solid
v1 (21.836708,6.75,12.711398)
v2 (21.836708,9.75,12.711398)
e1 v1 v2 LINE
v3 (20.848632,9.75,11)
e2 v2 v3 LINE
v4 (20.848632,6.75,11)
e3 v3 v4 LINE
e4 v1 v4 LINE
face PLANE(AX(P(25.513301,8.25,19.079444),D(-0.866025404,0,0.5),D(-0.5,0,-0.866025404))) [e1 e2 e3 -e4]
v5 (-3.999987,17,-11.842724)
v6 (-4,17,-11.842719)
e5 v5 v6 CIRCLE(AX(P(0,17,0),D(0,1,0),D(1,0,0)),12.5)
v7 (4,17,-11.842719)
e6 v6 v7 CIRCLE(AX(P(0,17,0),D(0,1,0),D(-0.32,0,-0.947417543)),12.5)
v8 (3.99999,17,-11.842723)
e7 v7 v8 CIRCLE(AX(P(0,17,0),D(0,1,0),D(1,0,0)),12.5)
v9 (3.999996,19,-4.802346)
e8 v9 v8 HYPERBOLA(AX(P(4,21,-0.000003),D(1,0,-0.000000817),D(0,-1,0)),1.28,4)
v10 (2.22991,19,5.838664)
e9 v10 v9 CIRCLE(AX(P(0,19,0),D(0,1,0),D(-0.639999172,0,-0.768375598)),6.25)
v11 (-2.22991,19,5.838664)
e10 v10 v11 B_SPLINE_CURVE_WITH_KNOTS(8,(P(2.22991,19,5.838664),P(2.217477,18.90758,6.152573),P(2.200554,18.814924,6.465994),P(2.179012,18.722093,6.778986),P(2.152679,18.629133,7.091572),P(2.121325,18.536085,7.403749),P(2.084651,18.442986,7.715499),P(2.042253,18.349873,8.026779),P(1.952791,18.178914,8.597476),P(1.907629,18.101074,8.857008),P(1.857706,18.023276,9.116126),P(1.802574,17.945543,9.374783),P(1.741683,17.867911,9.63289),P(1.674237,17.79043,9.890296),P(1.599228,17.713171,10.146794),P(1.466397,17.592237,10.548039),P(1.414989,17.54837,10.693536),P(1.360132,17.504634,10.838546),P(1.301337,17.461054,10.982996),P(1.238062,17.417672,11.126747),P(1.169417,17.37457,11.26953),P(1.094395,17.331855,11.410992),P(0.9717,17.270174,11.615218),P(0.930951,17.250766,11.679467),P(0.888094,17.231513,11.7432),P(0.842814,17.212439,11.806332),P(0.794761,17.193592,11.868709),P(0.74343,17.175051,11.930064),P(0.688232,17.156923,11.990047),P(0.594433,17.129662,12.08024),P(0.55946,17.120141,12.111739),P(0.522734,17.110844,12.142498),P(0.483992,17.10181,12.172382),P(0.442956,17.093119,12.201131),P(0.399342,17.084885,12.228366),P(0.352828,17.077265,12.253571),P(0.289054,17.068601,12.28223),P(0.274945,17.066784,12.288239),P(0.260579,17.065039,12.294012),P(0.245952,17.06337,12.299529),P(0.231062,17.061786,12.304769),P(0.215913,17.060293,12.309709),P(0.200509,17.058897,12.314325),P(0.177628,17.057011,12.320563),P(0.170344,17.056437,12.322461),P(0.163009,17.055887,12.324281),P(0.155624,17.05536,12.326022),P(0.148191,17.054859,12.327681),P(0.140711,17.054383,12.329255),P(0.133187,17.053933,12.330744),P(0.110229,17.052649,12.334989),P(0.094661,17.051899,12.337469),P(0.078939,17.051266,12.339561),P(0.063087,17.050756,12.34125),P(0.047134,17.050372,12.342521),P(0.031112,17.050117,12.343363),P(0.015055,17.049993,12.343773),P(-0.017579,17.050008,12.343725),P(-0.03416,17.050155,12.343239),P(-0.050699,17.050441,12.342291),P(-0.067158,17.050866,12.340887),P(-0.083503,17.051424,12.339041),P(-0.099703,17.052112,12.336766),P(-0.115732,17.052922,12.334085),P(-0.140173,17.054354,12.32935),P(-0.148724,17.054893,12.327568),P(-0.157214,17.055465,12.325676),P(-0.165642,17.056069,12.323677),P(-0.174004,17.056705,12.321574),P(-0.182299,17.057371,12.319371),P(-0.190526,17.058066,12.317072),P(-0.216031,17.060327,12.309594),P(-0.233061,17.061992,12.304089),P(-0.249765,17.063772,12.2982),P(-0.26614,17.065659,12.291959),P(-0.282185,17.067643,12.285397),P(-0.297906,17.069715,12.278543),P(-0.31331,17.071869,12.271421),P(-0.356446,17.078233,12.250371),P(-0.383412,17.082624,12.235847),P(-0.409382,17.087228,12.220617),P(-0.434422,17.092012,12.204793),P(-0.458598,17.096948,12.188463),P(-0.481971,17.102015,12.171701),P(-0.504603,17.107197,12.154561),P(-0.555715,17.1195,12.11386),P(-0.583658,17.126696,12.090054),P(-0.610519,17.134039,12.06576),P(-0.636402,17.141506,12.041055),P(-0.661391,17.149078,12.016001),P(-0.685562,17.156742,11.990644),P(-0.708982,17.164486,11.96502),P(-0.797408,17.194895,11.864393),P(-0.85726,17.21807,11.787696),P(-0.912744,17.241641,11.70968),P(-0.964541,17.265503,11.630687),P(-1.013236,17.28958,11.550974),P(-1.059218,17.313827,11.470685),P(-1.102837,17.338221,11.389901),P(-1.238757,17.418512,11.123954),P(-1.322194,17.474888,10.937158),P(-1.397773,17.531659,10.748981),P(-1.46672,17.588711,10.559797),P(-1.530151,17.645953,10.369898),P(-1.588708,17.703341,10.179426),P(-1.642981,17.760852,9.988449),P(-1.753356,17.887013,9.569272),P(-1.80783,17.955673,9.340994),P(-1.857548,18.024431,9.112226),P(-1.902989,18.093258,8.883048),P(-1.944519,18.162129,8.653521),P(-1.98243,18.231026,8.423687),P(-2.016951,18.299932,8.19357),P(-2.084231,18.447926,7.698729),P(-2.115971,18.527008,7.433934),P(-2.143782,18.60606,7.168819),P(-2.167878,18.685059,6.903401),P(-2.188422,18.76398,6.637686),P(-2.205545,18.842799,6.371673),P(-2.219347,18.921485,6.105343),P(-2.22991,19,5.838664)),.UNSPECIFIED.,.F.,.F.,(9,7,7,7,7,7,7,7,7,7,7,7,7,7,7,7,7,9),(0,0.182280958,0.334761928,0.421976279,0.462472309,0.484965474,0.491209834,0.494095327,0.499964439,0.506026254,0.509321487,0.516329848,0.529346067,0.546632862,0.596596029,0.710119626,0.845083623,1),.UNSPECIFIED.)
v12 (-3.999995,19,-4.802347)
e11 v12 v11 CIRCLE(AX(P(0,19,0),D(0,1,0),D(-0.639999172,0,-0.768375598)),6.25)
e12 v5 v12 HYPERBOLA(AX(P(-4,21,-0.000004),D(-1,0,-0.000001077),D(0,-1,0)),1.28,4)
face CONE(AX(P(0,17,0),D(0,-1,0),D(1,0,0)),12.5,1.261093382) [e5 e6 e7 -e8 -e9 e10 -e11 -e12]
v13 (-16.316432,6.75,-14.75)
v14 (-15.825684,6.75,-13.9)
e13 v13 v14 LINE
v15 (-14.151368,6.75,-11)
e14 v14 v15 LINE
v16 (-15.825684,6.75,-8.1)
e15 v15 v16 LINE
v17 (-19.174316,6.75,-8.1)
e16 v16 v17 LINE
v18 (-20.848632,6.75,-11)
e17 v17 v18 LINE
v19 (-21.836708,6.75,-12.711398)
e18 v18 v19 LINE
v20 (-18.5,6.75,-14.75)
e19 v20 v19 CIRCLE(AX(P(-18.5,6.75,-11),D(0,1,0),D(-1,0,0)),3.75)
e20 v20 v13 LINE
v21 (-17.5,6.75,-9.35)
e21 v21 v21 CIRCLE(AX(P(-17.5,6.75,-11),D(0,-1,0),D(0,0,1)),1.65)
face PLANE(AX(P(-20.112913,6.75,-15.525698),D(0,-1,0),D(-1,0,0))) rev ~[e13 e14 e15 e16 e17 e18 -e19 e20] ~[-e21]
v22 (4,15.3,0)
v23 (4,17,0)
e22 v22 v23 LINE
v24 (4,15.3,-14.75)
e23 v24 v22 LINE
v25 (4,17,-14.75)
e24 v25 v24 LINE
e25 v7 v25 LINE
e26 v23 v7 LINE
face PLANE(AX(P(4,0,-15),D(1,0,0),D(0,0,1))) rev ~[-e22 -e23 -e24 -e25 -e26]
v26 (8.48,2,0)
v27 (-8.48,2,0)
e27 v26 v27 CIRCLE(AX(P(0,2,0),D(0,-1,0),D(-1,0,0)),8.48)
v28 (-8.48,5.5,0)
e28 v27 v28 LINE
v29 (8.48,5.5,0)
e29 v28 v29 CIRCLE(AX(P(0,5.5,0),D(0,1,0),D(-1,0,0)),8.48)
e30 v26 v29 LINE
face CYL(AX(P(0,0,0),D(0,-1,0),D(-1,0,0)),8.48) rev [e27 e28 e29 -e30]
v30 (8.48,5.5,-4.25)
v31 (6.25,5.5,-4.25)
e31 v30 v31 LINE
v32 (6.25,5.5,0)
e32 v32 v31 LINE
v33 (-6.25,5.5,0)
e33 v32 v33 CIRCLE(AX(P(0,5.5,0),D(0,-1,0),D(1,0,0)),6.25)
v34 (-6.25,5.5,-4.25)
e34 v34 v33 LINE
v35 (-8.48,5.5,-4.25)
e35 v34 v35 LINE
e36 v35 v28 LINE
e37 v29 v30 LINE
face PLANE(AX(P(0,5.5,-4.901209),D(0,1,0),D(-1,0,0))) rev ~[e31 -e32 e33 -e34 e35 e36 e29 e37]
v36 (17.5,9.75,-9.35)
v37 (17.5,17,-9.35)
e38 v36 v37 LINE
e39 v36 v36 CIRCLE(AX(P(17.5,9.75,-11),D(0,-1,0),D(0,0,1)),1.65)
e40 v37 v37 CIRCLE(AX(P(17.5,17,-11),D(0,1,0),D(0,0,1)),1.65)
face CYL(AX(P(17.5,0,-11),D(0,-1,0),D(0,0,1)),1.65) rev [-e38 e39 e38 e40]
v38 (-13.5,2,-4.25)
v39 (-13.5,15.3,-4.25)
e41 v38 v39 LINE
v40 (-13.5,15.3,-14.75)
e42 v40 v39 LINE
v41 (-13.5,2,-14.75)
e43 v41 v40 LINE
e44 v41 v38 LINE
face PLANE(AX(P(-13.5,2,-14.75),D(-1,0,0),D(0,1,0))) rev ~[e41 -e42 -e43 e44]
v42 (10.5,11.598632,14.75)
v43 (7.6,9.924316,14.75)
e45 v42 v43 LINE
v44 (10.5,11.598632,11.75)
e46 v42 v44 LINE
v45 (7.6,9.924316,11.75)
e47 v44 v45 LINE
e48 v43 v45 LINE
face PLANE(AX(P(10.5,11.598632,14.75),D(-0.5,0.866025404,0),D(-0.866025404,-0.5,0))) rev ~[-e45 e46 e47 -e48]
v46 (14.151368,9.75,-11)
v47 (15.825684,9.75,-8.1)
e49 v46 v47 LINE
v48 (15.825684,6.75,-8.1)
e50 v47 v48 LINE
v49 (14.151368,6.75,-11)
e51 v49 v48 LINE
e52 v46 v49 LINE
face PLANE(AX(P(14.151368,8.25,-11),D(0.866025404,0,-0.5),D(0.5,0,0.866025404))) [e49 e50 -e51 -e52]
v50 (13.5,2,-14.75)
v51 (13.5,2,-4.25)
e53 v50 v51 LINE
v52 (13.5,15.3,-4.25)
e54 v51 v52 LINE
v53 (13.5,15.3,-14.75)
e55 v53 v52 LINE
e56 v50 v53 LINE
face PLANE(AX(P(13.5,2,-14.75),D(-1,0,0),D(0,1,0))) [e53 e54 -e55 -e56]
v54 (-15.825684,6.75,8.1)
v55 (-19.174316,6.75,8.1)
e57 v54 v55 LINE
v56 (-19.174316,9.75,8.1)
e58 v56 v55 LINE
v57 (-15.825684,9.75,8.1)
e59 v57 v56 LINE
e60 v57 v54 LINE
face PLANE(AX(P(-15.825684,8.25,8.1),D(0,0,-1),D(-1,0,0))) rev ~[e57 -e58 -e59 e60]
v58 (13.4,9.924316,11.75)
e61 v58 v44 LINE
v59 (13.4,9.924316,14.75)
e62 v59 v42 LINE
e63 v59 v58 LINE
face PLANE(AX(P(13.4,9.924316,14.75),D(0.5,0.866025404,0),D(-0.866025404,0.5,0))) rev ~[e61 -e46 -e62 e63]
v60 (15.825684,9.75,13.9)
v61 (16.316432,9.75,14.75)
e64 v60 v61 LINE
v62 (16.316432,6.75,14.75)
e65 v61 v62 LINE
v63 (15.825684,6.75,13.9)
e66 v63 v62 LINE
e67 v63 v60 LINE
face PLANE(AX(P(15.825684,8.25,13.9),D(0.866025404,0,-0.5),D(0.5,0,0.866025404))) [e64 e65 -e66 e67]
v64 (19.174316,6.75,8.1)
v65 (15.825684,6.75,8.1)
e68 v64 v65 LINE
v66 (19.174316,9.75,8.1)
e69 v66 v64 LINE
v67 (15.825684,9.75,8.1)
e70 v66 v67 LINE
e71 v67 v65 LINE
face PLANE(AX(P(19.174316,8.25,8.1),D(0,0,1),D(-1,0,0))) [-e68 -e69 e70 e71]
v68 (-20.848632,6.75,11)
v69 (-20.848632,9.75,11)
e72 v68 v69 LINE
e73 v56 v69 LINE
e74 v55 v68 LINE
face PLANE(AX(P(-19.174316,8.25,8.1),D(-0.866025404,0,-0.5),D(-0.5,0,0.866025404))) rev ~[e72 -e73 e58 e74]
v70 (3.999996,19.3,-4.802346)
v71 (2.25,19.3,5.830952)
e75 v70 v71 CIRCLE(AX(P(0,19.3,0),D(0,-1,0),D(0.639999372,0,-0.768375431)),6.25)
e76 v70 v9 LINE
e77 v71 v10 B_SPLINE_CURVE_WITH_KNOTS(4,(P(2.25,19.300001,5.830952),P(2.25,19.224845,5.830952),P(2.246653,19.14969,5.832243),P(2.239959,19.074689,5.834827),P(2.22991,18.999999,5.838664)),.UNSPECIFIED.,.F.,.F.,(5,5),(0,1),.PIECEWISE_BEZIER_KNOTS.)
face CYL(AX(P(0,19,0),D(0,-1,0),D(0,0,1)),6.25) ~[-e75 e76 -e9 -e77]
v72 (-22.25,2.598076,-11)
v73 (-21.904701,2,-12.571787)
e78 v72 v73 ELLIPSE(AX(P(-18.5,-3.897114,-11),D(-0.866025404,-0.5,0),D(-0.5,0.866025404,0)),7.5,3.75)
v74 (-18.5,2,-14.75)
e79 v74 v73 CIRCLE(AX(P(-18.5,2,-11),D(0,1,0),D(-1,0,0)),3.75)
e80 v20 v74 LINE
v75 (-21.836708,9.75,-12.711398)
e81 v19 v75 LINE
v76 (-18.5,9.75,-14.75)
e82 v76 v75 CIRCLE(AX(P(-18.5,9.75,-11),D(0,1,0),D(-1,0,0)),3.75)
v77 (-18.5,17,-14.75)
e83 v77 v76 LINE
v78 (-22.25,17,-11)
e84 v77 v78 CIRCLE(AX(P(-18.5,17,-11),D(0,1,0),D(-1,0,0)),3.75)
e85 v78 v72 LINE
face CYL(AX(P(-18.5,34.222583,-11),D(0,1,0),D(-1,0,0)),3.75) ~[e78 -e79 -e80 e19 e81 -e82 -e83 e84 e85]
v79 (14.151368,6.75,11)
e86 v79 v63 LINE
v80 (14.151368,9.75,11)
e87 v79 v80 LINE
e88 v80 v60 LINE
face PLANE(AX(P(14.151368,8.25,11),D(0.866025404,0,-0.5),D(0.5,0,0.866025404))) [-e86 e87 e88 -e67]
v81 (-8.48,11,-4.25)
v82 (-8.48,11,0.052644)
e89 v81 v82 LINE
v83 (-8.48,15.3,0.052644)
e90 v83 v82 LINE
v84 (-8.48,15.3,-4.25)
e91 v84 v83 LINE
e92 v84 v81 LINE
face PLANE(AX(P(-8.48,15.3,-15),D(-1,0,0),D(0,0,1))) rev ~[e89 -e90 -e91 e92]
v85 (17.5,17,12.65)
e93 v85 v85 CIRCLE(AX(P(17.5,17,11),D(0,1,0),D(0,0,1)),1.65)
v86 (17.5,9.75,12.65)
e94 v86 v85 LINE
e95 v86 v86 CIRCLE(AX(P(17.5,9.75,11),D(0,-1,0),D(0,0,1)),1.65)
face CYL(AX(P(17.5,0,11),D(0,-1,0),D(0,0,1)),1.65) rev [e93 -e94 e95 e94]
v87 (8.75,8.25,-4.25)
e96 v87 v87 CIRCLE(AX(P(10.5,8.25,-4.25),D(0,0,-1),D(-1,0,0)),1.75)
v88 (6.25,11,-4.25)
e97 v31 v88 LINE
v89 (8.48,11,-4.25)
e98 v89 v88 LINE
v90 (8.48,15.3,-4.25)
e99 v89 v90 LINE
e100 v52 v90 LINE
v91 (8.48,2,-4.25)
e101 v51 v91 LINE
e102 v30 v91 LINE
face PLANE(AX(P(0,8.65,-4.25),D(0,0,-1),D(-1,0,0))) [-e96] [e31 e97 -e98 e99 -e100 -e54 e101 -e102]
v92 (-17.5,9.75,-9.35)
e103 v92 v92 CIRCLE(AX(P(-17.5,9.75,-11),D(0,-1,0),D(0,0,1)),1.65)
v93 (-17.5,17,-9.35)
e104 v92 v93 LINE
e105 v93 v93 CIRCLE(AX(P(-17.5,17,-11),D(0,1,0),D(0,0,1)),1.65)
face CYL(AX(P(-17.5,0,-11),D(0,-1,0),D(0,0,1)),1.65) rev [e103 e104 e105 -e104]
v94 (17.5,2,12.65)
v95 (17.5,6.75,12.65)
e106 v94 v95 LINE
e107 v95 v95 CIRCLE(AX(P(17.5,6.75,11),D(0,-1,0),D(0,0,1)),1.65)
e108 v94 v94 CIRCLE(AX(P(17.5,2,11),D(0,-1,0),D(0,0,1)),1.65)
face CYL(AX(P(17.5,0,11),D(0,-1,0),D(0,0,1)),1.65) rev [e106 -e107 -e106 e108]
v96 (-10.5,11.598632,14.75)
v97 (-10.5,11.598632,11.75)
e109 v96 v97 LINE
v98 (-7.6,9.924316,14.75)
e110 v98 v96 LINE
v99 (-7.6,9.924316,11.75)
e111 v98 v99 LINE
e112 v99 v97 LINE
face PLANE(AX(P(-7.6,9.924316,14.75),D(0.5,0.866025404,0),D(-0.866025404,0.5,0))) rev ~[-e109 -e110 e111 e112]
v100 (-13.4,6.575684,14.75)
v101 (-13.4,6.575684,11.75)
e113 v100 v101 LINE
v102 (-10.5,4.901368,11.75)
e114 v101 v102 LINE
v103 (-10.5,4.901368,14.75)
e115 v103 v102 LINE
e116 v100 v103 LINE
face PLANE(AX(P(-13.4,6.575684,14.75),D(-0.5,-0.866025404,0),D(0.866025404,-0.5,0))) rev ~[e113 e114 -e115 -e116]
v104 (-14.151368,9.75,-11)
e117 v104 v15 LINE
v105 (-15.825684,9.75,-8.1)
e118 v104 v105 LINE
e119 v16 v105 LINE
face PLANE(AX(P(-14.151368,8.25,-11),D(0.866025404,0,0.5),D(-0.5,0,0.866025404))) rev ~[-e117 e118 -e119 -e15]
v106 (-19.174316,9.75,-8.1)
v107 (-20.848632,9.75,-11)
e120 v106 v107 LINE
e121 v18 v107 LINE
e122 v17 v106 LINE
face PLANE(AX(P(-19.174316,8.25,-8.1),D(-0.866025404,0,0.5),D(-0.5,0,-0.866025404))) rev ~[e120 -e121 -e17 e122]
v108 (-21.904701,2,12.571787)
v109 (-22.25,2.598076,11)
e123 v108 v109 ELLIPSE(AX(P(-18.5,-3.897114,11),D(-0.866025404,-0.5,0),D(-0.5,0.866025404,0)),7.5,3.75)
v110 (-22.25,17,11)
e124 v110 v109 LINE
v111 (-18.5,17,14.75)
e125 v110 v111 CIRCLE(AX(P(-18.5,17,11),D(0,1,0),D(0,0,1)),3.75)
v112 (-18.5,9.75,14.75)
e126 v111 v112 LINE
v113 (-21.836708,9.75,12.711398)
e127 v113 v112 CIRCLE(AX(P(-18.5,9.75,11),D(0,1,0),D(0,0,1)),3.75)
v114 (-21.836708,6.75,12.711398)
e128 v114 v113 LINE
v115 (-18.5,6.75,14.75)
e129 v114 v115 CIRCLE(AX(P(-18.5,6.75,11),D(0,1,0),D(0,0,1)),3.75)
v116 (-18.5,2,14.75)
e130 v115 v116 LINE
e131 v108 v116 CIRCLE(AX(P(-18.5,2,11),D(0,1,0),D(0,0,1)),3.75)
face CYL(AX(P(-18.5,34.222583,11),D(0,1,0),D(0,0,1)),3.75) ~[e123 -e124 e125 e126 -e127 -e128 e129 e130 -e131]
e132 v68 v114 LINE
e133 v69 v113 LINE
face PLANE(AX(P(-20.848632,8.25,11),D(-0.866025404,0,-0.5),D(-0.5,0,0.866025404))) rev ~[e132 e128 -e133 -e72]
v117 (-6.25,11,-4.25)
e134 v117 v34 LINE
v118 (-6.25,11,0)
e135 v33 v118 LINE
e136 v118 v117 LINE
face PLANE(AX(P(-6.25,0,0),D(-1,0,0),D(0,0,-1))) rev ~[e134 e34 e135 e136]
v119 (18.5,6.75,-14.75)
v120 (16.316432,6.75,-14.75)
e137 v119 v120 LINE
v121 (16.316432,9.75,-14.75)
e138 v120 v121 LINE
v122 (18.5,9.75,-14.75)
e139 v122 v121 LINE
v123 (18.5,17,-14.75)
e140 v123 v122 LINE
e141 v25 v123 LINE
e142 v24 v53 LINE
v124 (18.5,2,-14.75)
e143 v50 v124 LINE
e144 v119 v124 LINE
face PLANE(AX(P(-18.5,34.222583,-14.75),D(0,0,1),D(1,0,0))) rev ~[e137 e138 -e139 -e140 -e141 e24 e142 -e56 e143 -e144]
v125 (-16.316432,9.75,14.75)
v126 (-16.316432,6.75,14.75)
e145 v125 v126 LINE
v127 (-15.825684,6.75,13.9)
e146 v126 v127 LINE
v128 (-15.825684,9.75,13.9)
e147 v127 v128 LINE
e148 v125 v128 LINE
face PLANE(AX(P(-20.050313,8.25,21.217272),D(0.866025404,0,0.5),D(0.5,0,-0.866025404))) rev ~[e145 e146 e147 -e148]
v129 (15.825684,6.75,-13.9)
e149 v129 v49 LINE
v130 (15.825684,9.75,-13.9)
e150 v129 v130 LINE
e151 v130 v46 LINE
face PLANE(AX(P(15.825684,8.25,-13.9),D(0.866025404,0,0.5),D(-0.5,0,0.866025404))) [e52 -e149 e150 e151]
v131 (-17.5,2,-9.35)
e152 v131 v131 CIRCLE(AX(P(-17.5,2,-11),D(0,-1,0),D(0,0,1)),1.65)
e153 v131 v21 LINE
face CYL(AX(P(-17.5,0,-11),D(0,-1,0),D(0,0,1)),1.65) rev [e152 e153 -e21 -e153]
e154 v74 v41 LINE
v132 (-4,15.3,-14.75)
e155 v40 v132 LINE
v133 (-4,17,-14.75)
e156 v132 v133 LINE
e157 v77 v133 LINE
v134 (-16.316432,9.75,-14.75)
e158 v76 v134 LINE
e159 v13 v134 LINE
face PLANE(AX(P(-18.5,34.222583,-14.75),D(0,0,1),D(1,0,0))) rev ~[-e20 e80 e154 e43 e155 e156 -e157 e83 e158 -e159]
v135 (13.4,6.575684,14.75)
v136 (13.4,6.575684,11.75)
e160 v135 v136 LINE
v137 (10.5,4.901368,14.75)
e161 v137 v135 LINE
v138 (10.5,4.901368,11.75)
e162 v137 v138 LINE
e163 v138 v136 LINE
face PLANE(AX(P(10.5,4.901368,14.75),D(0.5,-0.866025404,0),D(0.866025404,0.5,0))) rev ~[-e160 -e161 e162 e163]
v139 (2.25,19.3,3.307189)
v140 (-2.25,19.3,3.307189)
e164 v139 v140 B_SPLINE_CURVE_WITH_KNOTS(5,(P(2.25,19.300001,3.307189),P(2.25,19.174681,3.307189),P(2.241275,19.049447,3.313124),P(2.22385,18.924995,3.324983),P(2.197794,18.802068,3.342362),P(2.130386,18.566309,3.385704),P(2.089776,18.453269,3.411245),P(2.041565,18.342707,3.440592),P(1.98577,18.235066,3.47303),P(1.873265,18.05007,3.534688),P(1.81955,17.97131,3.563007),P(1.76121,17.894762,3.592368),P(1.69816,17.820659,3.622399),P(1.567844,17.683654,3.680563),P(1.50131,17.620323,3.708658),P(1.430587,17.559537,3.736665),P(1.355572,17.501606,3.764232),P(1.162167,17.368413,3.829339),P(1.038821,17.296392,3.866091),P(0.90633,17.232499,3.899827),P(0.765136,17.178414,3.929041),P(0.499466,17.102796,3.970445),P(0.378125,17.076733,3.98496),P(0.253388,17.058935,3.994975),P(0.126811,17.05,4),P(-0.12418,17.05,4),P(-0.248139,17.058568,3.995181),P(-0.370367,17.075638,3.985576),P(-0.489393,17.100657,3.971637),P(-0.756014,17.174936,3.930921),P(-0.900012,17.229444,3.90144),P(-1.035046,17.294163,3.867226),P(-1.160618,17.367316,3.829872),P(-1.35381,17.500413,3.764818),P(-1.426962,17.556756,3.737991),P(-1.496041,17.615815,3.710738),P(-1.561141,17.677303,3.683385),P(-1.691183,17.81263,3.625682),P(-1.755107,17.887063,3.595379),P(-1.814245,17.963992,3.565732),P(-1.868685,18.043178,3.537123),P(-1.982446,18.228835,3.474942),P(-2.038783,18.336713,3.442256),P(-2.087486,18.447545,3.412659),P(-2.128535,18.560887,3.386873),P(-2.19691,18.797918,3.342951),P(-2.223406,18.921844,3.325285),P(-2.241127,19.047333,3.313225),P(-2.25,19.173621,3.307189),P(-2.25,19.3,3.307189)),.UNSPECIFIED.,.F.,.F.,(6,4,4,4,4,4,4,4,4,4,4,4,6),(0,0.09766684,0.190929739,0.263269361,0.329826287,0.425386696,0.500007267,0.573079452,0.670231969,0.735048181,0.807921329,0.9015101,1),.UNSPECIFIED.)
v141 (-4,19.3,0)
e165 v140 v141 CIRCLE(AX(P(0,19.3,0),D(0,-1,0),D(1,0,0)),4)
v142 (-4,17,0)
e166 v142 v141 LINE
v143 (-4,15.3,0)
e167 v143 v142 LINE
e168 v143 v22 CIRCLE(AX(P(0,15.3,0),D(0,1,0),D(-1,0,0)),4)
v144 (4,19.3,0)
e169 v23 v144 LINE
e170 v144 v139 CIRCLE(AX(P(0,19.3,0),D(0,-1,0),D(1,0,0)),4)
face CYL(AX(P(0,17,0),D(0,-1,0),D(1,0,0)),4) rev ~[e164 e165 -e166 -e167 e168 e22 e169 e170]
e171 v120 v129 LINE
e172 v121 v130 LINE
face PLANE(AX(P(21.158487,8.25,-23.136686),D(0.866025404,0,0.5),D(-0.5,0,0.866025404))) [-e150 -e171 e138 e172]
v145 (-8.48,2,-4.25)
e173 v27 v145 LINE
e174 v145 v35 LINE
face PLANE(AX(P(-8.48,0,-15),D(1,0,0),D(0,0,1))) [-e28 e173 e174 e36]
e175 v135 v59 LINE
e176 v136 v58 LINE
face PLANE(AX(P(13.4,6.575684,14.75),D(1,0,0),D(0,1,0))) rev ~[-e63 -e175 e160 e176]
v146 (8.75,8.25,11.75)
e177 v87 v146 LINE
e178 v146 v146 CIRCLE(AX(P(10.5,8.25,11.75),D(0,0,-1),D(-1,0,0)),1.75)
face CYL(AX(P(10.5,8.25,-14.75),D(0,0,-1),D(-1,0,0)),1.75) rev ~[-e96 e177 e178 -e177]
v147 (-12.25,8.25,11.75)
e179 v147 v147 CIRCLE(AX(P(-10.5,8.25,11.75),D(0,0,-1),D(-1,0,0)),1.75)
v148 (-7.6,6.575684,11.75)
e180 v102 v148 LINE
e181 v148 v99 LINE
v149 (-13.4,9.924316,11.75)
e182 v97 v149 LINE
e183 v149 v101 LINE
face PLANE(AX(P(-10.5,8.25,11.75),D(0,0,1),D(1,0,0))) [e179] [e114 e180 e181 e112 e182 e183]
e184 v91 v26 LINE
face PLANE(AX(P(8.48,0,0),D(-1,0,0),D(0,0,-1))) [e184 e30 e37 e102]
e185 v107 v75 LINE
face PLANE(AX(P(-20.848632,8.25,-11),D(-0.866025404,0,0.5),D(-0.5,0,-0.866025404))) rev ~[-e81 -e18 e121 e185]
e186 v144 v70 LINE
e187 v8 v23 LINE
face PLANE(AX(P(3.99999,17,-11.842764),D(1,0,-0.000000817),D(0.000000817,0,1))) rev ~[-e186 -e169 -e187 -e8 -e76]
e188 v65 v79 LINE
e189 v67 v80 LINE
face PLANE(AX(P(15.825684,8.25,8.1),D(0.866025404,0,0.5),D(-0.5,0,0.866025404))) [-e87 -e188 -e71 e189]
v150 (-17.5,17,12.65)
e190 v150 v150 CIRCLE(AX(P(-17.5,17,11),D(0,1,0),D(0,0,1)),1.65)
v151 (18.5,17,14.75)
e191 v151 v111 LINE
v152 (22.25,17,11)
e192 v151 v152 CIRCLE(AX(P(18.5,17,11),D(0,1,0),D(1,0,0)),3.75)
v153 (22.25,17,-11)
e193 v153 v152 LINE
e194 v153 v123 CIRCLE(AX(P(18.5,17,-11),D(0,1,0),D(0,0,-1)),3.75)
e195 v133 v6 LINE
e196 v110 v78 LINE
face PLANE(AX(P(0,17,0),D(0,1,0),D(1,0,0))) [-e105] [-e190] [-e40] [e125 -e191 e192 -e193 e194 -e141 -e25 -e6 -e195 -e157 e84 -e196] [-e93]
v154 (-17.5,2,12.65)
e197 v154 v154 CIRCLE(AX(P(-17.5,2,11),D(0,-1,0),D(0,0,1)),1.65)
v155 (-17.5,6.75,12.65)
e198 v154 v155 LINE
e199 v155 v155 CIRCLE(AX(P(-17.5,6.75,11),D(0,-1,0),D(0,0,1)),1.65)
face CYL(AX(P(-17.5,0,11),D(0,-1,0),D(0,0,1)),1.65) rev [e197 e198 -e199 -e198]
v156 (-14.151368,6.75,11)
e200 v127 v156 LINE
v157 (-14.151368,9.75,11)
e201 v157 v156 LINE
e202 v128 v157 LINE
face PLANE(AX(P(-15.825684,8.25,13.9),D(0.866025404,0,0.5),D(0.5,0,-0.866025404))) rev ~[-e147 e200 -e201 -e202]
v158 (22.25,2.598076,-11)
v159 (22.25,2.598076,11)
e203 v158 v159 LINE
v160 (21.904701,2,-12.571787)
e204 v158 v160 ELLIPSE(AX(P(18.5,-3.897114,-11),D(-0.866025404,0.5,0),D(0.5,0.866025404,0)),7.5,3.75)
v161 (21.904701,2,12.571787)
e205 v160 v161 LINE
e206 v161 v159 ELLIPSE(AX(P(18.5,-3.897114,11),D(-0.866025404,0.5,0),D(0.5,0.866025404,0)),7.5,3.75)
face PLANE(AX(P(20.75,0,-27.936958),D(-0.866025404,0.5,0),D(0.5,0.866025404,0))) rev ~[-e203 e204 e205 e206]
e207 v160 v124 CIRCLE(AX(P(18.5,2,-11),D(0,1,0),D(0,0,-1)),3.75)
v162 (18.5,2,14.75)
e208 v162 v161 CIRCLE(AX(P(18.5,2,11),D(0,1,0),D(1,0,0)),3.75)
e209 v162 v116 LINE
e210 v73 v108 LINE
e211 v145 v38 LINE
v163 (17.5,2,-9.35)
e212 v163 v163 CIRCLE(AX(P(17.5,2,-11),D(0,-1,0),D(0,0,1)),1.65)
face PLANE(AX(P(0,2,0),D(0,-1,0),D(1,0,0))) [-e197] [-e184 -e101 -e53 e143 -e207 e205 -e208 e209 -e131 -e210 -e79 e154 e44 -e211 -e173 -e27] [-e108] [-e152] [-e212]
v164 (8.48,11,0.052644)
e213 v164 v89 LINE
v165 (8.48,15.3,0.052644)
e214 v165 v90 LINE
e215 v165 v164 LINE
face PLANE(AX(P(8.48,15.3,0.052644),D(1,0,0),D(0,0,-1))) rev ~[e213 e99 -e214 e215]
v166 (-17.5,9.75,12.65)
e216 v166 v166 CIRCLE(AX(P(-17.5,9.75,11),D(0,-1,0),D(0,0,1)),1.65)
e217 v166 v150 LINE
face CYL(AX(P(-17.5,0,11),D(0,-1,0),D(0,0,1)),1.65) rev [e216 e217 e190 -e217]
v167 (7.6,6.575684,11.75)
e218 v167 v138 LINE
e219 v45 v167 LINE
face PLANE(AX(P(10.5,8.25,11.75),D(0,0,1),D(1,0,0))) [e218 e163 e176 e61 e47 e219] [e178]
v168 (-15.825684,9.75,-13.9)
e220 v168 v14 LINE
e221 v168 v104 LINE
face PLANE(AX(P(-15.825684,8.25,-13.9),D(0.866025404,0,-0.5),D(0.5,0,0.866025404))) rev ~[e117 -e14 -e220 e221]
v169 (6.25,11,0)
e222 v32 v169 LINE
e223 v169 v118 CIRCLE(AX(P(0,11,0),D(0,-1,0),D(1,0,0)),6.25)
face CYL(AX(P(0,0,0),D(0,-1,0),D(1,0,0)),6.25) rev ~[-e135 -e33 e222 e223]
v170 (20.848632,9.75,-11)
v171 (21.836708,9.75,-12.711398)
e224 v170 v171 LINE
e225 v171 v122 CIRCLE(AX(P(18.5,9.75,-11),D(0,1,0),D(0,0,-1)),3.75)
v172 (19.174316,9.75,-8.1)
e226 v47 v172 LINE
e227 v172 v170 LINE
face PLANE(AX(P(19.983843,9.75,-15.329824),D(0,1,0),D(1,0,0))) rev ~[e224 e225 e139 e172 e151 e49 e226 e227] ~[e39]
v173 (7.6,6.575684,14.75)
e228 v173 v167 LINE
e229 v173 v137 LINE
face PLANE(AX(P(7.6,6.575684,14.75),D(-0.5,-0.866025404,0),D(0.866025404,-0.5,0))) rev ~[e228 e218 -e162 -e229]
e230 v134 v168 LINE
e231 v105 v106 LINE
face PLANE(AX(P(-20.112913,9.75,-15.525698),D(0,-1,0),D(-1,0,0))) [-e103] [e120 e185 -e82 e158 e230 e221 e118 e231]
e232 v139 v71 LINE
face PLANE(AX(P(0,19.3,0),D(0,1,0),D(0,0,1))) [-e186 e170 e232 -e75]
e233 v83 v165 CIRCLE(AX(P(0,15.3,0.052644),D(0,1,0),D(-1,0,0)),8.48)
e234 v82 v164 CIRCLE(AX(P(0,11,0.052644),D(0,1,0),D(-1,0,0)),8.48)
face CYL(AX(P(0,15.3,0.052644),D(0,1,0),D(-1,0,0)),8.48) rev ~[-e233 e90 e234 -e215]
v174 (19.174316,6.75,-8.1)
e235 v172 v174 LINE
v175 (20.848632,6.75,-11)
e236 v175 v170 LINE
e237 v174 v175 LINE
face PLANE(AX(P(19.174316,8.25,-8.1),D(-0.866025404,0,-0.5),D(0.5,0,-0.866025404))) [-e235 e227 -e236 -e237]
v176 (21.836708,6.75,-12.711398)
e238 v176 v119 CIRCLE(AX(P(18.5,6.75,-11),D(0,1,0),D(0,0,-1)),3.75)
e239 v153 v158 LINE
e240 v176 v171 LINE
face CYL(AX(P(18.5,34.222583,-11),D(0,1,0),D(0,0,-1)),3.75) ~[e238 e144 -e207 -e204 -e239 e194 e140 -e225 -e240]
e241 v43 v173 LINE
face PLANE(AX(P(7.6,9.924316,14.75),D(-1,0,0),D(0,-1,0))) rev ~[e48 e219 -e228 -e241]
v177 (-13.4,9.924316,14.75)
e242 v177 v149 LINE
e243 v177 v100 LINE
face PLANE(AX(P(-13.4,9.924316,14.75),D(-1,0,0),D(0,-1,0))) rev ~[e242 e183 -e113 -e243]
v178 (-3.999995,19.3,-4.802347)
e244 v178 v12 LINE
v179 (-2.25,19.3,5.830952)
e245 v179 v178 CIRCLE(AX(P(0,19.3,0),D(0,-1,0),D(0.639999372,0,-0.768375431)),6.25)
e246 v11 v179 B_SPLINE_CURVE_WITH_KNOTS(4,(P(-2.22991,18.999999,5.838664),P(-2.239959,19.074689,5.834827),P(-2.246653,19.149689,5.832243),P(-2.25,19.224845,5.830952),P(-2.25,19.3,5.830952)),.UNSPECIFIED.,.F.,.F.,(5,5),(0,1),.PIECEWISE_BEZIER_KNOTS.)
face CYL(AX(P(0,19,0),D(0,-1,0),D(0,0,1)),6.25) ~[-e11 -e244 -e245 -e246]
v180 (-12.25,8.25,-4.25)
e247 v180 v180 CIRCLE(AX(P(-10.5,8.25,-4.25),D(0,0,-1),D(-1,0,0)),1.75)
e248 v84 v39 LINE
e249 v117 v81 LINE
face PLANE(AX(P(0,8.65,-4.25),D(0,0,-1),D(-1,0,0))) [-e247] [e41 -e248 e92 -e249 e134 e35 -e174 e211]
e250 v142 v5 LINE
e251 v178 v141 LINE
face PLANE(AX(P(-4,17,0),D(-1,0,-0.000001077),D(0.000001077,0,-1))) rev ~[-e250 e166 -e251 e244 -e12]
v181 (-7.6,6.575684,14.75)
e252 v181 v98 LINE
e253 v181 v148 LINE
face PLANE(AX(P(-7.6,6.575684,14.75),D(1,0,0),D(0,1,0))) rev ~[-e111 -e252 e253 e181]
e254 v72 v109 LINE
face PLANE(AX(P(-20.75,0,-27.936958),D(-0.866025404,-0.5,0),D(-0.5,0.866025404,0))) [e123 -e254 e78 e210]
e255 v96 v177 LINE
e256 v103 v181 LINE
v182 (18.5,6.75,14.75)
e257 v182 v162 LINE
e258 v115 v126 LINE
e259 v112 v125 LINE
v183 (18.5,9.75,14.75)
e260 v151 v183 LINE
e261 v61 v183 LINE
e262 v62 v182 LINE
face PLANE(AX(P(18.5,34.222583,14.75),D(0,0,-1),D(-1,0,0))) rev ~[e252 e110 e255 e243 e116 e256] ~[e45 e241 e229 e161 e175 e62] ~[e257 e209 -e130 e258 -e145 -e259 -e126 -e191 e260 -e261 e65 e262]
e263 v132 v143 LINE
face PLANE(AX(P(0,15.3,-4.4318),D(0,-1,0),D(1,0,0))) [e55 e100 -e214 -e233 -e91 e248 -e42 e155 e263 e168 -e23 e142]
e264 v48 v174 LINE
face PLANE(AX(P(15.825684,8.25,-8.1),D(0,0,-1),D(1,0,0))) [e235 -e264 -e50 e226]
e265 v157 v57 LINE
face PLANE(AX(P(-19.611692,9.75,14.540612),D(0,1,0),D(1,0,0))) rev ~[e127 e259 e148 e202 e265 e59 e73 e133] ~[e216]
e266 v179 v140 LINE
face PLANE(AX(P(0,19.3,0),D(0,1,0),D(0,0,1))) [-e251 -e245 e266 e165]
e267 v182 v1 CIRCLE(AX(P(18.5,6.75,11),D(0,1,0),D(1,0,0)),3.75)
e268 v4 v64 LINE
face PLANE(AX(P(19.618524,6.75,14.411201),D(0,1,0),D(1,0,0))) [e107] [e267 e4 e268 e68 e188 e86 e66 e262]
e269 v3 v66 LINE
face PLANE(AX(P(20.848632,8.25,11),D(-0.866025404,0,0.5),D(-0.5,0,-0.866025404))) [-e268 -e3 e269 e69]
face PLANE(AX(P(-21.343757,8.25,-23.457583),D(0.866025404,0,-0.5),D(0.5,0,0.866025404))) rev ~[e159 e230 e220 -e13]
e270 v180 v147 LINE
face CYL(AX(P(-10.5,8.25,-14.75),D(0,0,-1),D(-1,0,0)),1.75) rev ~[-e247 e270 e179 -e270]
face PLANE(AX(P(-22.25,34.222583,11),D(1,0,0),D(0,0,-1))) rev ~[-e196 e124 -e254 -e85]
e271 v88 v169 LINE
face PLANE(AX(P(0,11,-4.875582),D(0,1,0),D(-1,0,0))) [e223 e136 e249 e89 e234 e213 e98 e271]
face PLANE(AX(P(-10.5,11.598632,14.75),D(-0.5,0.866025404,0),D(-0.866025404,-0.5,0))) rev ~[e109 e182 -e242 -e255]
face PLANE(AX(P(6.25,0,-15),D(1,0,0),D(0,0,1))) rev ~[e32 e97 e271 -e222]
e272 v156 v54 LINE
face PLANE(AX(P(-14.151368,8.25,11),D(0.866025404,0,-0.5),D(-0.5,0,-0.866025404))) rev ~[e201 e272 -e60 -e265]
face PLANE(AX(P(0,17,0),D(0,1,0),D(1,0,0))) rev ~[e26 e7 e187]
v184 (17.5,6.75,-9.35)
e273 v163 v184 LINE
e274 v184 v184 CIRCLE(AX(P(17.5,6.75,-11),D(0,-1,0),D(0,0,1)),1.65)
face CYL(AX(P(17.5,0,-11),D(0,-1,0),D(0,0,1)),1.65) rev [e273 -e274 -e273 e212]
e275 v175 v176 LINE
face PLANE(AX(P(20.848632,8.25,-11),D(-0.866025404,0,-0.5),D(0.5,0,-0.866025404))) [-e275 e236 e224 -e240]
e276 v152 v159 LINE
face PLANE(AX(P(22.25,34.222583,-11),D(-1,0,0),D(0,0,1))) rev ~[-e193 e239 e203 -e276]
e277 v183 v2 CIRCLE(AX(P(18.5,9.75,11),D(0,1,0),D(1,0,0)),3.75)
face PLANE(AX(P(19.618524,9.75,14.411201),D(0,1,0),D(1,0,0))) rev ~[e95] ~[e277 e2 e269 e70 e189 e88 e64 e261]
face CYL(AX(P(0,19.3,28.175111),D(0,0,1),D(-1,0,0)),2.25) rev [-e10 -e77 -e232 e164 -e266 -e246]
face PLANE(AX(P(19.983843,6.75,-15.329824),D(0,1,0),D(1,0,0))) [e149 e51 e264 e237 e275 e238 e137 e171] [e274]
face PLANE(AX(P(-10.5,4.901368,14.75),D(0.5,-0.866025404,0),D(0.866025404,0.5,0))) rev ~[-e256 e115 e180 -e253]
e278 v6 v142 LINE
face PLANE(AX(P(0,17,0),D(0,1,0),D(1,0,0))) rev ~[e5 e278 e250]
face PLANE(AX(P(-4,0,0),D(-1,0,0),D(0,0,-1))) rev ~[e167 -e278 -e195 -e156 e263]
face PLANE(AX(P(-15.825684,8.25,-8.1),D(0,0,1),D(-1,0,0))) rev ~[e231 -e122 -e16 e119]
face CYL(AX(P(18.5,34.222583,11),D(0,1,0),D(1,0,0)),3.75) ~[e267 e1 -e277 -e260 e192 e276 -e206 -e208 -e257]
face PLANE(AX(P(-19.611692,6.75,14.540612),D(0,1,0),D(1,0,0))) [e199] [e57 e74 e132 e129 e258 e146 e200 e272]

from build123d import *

# Parameters (mm, degrees)
ESBO_O1_R                   = 1.65
RESSALTO_EXTRUS_O1_DEPTH    = 17
CORTE_EXTRUS_O2_DEPTH       = 32.941352507
CORTE_EXTRUS_O3_DEPTH       = 5.5
CORTE_EXTRUS_O4_DEPTH       = 15.3
CORTE_EXTRUS_O5_DEPTH       = 4.3
ESBO_O6_R                   = 12.5
ESBO_O7_R                   = 6.25
ESBO_O8_R                   = 6.25
RESSALTO_EXTRUS_O2_DEPTH    = 0.3
CORTE_EXTRUS_O6_DEPTH       = 32.941352507
CORTE_EXTRUS_O7_DEPTH       = 43.175111144
CORTE_EXTRUS_O7_DEPTH_BACK  = 43.175111144
ESBO_O10_R                  = 2.25
CORTE_EXTRUS_O14_DEPTH      = 34.222582739
CORTE_EXTRUS_O14_DEPTH_BACK = 34.222582739
CORTE_EXTRUS_O17_DEPTH      = 42.686958439
CORTE_EXTRUS_O17_DEPTH_BACK = 42.686958439
CORTE_EXTRUS_O18_DEPTH      = 1.5
ESBO_O22_W                  = 73.531346764
ESBO_O22_H                  = 29.602386944
CORTE_EXTRUS_O19_DEPTH      = 2
ESBO_O28_W                  = 27
ESBO_O28_H                  = 13.3
CORTE_EXTRUS_O22_DEPTH      = 10.5
ESBO_O27_R                  = 1.75
CORTE_EXTRUS_O23_DEPTH      = 42.686958439
CORTE_EXTRUS_O24_DEPTH      = 3


with BuildPart() as part:
    # Esboço1 → Ressalto-extrusão1 (new body)
    with BuildSketch(Plane(origin=(0, 0, 0), x_dir=(1, 0, 0), z_dir=(0, 1, 0))):
        with BuildLine():
            Line((-18.5, -15), (18.5, -15))
            ThreePointArc((18.5, -15), (21.328427125, -13.828427125), (22.5, -11))
            Line((22.5, -11), (22.5, 11))
            ThreePointArc((22.5, 11), (21.328427125, 13.828427125), (18.5, 15))
            Line((18.5, 15), (-18.5, 15))
            ThreePointArc((-18.5, 15), (-21.328427125, 13.828427125), (-22.5, 11))
            Line((-22.5, 11), (-22.5, -11))
            ThreePointArc((-22.5, -11), (-21.328427125, -13.828427125), (-18.5, -15))
        make_face()
        with Locations(Location((-17.5, -11, 0), (0, 0, 270))):
            Circle(ESBO_O1_R, mode=Mode.SUBTRACT)
        with Locations(Location((-17.5, 11, 0), (0, 0, 270))):
            Circle(ESBO_O1_R, mode=Mode.SUBTRACT)
        with Locations(Location((17.5, -11, 0), (0, 0, 270))):
            Circle(ESBO_O1_R, mode=Mode.SUBTRACT)
        with Locations(Location((17.5, 11, 0), (0, 0, 270))):
            Circle(ESBO_O1_R, mode=Mode.SUBTRACT)
    extrude(amount=RESSALTO_EXTRUS_O1_DEPTH)

    # Esboço3 → Corte-extrusão2 (cut, through all)
    with BuildSketch(Plane.XZ):
        with BuildLine():
            Line((-4, -15), (4, -15))
            Line((4, -15), (4, 0))
            ThreePointArc((4, 0), (0, 4), (-4, 0))
            Line((-4, 0), (-4, -15))
        make_face()
    extrude(amount=-CORTE_EXTRUS_O2_DEPTH, mode=Mode.SUBTRACT)

    # Esboço4 → Corte-extrusão3 (cut)
    with BuildSketch(Plane.XZ):
        with BuildLine():
            Line((-8.48, -15), (-8.48, 0))
            ThreePointArc((-8.48, 0), (0, 8.48), (8.48, 0))
            Line((8.48, 0), (8.48, -15))
            Line((8.48, -15), (-8.48, -15))
        make_face()
    extrude(amount=-CORTE_EXTRUS_O3_DEPTH, mode=Mode.SUBTRACT)

    # Esboço4<3> → Corte-extrusão4 (cut)
    with BuildSketch(Plane.XZ):
        with BuildLine():
            Line((-6.25, 0), (-6.25, -15))
            Line((-6.25, -15), (-4, -15))
            Line((-4, -15), (-4, 0))
            ThreePointArc((-4, 0), (0, 4), (4, 0))
            Line((4, 0), (4, -15))
            Line((4, -15), (6.25, -15))
            Line((6.25, -15), (6.25, 0))
            ThreePointArc((6.25, 0), (0, 6.25), (-6.25, 0))
        make_face()
    extrude(amount=-CORTE_EXTRUS_O4_DEPTH, mode=Mode.SUBTRACT)

    # Esboço5 → Corte-extrusão5 (cut)
    with BuildSketch(Plane.XZ.offset(-15.3)):
        with BuildLine():
            Line((-8.48, -15), (-8.48, 0.052643862))
            ThreePointArc((-8.48, 0.052643862), (0, 8.532643862), (8.48, 0.052643862))
            Line((8.48, 0.052643862), (8.48, -15))
            Line((8.48, -15), (-8.48, -15))
        make_face()
    extrude(amount=CORTE_EXTRUS_O5_DEPTH, mode=Mode.SUBTRACT)

    # Esboço6 → Loft1 section 0
    with BuildSketch(Plane(origin=(0, 17, 0), x_dir=(1, 0, 0), z_dir=(0, 1, 0))):
        Circle(ESBO_O6_R)
    # Esboço7 → Loft1 section 1
    with BuildSketch(Plane(origin=(0, 19, 0), x_dir=(1, 0, 0), z_dir=(0, 1, 0))):
        Circle(ESBO_O7_R)
    loft()

    # Esboço8 → Ressalto-extrusão2 (add)
    with BuildSketch(Plane(origin=(0, 19, 0), x_dir=(1, 0, 0), z_dir=(0, 1, 0))):
        with Locations(Location((0, 0, 0), (0, 0, 270))):
            Circle(ESBO_O8_R)
    extrude(amount=RESSALTO_EXTRUS_O2_DEPTH)

    # Esboço9 → Corte-extrusão6 (cut, through all)
    with BuildSketch(Plane.XZ.offset(-17)):
        with BuildLine():
            Line((-4, 0), (-3.999987243, -11.842772672))
            ThreePointArc((-3.999987243, -11.842772672), (2.212e-06, -12.500043117), (3.999990323, -11.842764489))
            Line((3.999990323, -11.842764489), (4, 0))
            ThreePointArc((4, 0), (0, 4), (-4, 0))
        make_face()
    extrude(amount=-CORTE_EXTRUS_O6_DEPTH, mode=Mode.SUBTRACT)

    # Esboço10 → Corte-extrusão7 (cut, two sides: drawn at the far end of the back side and taken through both)
    with BuildSketch(Plane(origin=(0, 0, -15), x_dir=(-1, 0, 0), z_dir=(0, 0, -1)).offset(-CORTE_EXTRUS_O7_DEPTH_BACK)):
        with Locations((0, 19.3)):
            Circle(ESBO_O10_R)
    extrude(amount=CORTE_EXTRUS_O7_DEPTH + CORTE_EXTRUS_O7_DEPTH_BACK, mode=Mode.SUBTRACT)

    # Esboço17 → Corte-extrusão14 (cut, two sides: drawn at the far end of the back side and taken through both)
    with BuildSketch(Plane.XZ.offset(-CORTE_EXTRUS_O14_DEPTH_BACK)):
        with BuildLine():
            Line((-8.48, -15), (8.48, -15))
            Line((8.48, -15), (18.5, -15))
            ThreePointArc((18.5, -15), (21.328427125, -13.828427125), (22.5, -11))
            Line((22.5, -11), (22.5, 11))
            ThreePointArc((22.5, 11), (21.328427125, 13.828427125), (18.5, 15))
            Line((18.5, 15), (-18.5, 15))
            ThreePointArc((-18.5, 15), (-21.328427125, 13.828427125), (-22.5, 11))
            Line((-22.5, 11), (-22.5, -11))
            ThreePointArc((-22.5, -11), (-21.328427125, -13.828427125), (-18.5, -15))
            Line((-18.5, -15), (-8.48, -15))
        make_face()
        with BuildLine():
            Line((8.48, -14.75), (18.5, -14.75))
            ThreePointArc((18.5, -14.75), (21.151650429, -13.651650429), (22.25, -11))
            Line((22.25, -11), (22.25, 11))
            ThreePointArc((22.25, 11), (21.151650429, 13.651650429), (18.5, 14.75))
            Line((18.5, 14.75), (-18.5, 14.75))
            ThreePointArc((-18.5, 14.75), (-21.151650429, 13.651650429), (-22.25, 11))
            Line((-22.25, 11), (-22.25, -11))
            ThreePointArc((-22.25, -11), (-21.151650429, -13.651650429), (-18.5, -14.75))
            Line((-18.5, -14.75), (-8.48, -14.75))
            Line((-8.48, -14.75), (8.48, -14.75))
        make_face(mode=Mode.SUBTRACT)
    extrude(amount=CORTE_EXTRUS_O14_DEPTH + CORTE_EXTRUS_O14_DEPTH_BACK, mode=Mode.SUBTRACT)

    # Esboço20 → Corte-extrusão17 (cut, two sides: drawn at the far end of the back side and taken through both)
    with BuildSketch(Plane.XY.offset(14.75).offset(-CORTE_EXTRUS_O17_DEPTH_BACK)):
        Polygon((-20.75, 0), (-22.25, 2.598076211), (-22.25, 0), align=None)
        Polygon((20.75, 0), (22.25, 2.598076211), (22.25, 0), align=None)
    extrude(amount=CORTE_EXTRUS_O17_DEPTH + CORTE_EXTRUS_O17_DEPTH_BACK, mode=Mode.SUBTRACT)

    # Esboço21 → Corte-extrusão18 (cut, symmetric)
    with BuildSketch(Plane(origin=(0, 8.25, 0), x_dir=(1, 0, 0), z_dir=(0, 1, 0))):
        Polygon((-20.848631561, 11), (-26.366704658, 20.557582963), (-21.343757316, 23.457582963), (-15.825684219, 13.9), (-14.151368439, 11), (-15.825684219, 8.1), (-19.174315781, 8.1), align=None)
        Polygon((19.174315781, 8.1), (20.848631561, 11), (26.085179504, 20.069967093), (21.158487208, 23.136685723), (15.825684219, 13.9), (14.151368439, 11), (15.825684219, 8.1), align=None)
        Polygon((15.825684219, -8.1), (14.151368439, -11), (15.825684219, -13.9), (19.678983152, -20.574109528), (25.513300663, -19.079443885), (20.848631561, -11), (19.174315781, -8.1), align=None)
        Polygon((-19.174315781, -8.1), (-20.848631561, -11), (-25.445111293, -18.961336431), (-20.050312904, -21.217271525), (-15.825684219, -13.9), (-14.151368439, -11), (-15.825684219, -8.1), align=None)
    extrude(amount=CORTE_EXTRUS_O18_DEPTH, both=True, mode=Mode.SUBTRACT)

    # Esboço22 → Corte-extrusão19 (cut)
    with BuildSketch(Plane.XZ):
        Rectangle(ESBO_O22_W, ESBO_O22_H)
    extrude(amount=-CORTE_EXTRUS_O19_DEPTH, mode=Mode.SUBTRACT)

    # Esboço28 → Corte-extrusão22 (cut)
    with BuildSketch(Plane(origin=(0, 0, -14.75), x_dir=(-1, 0, 0), z_dir=(0, 0, -1))):
        with Locations((0, 8.65)):
            Rectangle(ESBO_O28_W, ESBO_O28_H)
    extrude(amount=-CORTE_EXTRUS_O22_DEPTH, mode=Mode.SUBTRACT)

    # Esboço27 → Corte-extrusão23 (cut, through all)
    with BuildSketch(Plane(origin=(0, 0, -14.75), x_dir=(-1, 0, 0), z_dir=(0, 0, -1))):
        with Locations((-10.5, 8.25)):
            Circle(ESBO_O27_R)
        with Locations((10.5, 8.25)):
            Circle(ESBO_O27_R)
    extrude(amount=-CORTE_EXTRUS_O23_DEPTH, mode=Mode.SUBTRACT)

    # Esboço29 → Corte-extrusão24 (cut)
    with BuildSketch(Plane.XY.offset(14.75)):
        Polygon((-7.6, 9.924315781), (-10.5, 11.598631561), (-13.4, 9.924315781), (-13.4, 6.575684219), (-10.5, 4.901368439), (-7.6, 6.575684219), align=None)
        Polygon((10.5, 11.598631561), (7.6, 9.924315781), (7.6, 6.575684219), (10.5, 4.901368439), (13.4, 6.575684219), (13.4, 9.924315781), align=None)
    extrude(amount=-CORTE_EXTRUS_O24_DEPTH, mode=Mode.SUBTRACT)


solid = part.part
